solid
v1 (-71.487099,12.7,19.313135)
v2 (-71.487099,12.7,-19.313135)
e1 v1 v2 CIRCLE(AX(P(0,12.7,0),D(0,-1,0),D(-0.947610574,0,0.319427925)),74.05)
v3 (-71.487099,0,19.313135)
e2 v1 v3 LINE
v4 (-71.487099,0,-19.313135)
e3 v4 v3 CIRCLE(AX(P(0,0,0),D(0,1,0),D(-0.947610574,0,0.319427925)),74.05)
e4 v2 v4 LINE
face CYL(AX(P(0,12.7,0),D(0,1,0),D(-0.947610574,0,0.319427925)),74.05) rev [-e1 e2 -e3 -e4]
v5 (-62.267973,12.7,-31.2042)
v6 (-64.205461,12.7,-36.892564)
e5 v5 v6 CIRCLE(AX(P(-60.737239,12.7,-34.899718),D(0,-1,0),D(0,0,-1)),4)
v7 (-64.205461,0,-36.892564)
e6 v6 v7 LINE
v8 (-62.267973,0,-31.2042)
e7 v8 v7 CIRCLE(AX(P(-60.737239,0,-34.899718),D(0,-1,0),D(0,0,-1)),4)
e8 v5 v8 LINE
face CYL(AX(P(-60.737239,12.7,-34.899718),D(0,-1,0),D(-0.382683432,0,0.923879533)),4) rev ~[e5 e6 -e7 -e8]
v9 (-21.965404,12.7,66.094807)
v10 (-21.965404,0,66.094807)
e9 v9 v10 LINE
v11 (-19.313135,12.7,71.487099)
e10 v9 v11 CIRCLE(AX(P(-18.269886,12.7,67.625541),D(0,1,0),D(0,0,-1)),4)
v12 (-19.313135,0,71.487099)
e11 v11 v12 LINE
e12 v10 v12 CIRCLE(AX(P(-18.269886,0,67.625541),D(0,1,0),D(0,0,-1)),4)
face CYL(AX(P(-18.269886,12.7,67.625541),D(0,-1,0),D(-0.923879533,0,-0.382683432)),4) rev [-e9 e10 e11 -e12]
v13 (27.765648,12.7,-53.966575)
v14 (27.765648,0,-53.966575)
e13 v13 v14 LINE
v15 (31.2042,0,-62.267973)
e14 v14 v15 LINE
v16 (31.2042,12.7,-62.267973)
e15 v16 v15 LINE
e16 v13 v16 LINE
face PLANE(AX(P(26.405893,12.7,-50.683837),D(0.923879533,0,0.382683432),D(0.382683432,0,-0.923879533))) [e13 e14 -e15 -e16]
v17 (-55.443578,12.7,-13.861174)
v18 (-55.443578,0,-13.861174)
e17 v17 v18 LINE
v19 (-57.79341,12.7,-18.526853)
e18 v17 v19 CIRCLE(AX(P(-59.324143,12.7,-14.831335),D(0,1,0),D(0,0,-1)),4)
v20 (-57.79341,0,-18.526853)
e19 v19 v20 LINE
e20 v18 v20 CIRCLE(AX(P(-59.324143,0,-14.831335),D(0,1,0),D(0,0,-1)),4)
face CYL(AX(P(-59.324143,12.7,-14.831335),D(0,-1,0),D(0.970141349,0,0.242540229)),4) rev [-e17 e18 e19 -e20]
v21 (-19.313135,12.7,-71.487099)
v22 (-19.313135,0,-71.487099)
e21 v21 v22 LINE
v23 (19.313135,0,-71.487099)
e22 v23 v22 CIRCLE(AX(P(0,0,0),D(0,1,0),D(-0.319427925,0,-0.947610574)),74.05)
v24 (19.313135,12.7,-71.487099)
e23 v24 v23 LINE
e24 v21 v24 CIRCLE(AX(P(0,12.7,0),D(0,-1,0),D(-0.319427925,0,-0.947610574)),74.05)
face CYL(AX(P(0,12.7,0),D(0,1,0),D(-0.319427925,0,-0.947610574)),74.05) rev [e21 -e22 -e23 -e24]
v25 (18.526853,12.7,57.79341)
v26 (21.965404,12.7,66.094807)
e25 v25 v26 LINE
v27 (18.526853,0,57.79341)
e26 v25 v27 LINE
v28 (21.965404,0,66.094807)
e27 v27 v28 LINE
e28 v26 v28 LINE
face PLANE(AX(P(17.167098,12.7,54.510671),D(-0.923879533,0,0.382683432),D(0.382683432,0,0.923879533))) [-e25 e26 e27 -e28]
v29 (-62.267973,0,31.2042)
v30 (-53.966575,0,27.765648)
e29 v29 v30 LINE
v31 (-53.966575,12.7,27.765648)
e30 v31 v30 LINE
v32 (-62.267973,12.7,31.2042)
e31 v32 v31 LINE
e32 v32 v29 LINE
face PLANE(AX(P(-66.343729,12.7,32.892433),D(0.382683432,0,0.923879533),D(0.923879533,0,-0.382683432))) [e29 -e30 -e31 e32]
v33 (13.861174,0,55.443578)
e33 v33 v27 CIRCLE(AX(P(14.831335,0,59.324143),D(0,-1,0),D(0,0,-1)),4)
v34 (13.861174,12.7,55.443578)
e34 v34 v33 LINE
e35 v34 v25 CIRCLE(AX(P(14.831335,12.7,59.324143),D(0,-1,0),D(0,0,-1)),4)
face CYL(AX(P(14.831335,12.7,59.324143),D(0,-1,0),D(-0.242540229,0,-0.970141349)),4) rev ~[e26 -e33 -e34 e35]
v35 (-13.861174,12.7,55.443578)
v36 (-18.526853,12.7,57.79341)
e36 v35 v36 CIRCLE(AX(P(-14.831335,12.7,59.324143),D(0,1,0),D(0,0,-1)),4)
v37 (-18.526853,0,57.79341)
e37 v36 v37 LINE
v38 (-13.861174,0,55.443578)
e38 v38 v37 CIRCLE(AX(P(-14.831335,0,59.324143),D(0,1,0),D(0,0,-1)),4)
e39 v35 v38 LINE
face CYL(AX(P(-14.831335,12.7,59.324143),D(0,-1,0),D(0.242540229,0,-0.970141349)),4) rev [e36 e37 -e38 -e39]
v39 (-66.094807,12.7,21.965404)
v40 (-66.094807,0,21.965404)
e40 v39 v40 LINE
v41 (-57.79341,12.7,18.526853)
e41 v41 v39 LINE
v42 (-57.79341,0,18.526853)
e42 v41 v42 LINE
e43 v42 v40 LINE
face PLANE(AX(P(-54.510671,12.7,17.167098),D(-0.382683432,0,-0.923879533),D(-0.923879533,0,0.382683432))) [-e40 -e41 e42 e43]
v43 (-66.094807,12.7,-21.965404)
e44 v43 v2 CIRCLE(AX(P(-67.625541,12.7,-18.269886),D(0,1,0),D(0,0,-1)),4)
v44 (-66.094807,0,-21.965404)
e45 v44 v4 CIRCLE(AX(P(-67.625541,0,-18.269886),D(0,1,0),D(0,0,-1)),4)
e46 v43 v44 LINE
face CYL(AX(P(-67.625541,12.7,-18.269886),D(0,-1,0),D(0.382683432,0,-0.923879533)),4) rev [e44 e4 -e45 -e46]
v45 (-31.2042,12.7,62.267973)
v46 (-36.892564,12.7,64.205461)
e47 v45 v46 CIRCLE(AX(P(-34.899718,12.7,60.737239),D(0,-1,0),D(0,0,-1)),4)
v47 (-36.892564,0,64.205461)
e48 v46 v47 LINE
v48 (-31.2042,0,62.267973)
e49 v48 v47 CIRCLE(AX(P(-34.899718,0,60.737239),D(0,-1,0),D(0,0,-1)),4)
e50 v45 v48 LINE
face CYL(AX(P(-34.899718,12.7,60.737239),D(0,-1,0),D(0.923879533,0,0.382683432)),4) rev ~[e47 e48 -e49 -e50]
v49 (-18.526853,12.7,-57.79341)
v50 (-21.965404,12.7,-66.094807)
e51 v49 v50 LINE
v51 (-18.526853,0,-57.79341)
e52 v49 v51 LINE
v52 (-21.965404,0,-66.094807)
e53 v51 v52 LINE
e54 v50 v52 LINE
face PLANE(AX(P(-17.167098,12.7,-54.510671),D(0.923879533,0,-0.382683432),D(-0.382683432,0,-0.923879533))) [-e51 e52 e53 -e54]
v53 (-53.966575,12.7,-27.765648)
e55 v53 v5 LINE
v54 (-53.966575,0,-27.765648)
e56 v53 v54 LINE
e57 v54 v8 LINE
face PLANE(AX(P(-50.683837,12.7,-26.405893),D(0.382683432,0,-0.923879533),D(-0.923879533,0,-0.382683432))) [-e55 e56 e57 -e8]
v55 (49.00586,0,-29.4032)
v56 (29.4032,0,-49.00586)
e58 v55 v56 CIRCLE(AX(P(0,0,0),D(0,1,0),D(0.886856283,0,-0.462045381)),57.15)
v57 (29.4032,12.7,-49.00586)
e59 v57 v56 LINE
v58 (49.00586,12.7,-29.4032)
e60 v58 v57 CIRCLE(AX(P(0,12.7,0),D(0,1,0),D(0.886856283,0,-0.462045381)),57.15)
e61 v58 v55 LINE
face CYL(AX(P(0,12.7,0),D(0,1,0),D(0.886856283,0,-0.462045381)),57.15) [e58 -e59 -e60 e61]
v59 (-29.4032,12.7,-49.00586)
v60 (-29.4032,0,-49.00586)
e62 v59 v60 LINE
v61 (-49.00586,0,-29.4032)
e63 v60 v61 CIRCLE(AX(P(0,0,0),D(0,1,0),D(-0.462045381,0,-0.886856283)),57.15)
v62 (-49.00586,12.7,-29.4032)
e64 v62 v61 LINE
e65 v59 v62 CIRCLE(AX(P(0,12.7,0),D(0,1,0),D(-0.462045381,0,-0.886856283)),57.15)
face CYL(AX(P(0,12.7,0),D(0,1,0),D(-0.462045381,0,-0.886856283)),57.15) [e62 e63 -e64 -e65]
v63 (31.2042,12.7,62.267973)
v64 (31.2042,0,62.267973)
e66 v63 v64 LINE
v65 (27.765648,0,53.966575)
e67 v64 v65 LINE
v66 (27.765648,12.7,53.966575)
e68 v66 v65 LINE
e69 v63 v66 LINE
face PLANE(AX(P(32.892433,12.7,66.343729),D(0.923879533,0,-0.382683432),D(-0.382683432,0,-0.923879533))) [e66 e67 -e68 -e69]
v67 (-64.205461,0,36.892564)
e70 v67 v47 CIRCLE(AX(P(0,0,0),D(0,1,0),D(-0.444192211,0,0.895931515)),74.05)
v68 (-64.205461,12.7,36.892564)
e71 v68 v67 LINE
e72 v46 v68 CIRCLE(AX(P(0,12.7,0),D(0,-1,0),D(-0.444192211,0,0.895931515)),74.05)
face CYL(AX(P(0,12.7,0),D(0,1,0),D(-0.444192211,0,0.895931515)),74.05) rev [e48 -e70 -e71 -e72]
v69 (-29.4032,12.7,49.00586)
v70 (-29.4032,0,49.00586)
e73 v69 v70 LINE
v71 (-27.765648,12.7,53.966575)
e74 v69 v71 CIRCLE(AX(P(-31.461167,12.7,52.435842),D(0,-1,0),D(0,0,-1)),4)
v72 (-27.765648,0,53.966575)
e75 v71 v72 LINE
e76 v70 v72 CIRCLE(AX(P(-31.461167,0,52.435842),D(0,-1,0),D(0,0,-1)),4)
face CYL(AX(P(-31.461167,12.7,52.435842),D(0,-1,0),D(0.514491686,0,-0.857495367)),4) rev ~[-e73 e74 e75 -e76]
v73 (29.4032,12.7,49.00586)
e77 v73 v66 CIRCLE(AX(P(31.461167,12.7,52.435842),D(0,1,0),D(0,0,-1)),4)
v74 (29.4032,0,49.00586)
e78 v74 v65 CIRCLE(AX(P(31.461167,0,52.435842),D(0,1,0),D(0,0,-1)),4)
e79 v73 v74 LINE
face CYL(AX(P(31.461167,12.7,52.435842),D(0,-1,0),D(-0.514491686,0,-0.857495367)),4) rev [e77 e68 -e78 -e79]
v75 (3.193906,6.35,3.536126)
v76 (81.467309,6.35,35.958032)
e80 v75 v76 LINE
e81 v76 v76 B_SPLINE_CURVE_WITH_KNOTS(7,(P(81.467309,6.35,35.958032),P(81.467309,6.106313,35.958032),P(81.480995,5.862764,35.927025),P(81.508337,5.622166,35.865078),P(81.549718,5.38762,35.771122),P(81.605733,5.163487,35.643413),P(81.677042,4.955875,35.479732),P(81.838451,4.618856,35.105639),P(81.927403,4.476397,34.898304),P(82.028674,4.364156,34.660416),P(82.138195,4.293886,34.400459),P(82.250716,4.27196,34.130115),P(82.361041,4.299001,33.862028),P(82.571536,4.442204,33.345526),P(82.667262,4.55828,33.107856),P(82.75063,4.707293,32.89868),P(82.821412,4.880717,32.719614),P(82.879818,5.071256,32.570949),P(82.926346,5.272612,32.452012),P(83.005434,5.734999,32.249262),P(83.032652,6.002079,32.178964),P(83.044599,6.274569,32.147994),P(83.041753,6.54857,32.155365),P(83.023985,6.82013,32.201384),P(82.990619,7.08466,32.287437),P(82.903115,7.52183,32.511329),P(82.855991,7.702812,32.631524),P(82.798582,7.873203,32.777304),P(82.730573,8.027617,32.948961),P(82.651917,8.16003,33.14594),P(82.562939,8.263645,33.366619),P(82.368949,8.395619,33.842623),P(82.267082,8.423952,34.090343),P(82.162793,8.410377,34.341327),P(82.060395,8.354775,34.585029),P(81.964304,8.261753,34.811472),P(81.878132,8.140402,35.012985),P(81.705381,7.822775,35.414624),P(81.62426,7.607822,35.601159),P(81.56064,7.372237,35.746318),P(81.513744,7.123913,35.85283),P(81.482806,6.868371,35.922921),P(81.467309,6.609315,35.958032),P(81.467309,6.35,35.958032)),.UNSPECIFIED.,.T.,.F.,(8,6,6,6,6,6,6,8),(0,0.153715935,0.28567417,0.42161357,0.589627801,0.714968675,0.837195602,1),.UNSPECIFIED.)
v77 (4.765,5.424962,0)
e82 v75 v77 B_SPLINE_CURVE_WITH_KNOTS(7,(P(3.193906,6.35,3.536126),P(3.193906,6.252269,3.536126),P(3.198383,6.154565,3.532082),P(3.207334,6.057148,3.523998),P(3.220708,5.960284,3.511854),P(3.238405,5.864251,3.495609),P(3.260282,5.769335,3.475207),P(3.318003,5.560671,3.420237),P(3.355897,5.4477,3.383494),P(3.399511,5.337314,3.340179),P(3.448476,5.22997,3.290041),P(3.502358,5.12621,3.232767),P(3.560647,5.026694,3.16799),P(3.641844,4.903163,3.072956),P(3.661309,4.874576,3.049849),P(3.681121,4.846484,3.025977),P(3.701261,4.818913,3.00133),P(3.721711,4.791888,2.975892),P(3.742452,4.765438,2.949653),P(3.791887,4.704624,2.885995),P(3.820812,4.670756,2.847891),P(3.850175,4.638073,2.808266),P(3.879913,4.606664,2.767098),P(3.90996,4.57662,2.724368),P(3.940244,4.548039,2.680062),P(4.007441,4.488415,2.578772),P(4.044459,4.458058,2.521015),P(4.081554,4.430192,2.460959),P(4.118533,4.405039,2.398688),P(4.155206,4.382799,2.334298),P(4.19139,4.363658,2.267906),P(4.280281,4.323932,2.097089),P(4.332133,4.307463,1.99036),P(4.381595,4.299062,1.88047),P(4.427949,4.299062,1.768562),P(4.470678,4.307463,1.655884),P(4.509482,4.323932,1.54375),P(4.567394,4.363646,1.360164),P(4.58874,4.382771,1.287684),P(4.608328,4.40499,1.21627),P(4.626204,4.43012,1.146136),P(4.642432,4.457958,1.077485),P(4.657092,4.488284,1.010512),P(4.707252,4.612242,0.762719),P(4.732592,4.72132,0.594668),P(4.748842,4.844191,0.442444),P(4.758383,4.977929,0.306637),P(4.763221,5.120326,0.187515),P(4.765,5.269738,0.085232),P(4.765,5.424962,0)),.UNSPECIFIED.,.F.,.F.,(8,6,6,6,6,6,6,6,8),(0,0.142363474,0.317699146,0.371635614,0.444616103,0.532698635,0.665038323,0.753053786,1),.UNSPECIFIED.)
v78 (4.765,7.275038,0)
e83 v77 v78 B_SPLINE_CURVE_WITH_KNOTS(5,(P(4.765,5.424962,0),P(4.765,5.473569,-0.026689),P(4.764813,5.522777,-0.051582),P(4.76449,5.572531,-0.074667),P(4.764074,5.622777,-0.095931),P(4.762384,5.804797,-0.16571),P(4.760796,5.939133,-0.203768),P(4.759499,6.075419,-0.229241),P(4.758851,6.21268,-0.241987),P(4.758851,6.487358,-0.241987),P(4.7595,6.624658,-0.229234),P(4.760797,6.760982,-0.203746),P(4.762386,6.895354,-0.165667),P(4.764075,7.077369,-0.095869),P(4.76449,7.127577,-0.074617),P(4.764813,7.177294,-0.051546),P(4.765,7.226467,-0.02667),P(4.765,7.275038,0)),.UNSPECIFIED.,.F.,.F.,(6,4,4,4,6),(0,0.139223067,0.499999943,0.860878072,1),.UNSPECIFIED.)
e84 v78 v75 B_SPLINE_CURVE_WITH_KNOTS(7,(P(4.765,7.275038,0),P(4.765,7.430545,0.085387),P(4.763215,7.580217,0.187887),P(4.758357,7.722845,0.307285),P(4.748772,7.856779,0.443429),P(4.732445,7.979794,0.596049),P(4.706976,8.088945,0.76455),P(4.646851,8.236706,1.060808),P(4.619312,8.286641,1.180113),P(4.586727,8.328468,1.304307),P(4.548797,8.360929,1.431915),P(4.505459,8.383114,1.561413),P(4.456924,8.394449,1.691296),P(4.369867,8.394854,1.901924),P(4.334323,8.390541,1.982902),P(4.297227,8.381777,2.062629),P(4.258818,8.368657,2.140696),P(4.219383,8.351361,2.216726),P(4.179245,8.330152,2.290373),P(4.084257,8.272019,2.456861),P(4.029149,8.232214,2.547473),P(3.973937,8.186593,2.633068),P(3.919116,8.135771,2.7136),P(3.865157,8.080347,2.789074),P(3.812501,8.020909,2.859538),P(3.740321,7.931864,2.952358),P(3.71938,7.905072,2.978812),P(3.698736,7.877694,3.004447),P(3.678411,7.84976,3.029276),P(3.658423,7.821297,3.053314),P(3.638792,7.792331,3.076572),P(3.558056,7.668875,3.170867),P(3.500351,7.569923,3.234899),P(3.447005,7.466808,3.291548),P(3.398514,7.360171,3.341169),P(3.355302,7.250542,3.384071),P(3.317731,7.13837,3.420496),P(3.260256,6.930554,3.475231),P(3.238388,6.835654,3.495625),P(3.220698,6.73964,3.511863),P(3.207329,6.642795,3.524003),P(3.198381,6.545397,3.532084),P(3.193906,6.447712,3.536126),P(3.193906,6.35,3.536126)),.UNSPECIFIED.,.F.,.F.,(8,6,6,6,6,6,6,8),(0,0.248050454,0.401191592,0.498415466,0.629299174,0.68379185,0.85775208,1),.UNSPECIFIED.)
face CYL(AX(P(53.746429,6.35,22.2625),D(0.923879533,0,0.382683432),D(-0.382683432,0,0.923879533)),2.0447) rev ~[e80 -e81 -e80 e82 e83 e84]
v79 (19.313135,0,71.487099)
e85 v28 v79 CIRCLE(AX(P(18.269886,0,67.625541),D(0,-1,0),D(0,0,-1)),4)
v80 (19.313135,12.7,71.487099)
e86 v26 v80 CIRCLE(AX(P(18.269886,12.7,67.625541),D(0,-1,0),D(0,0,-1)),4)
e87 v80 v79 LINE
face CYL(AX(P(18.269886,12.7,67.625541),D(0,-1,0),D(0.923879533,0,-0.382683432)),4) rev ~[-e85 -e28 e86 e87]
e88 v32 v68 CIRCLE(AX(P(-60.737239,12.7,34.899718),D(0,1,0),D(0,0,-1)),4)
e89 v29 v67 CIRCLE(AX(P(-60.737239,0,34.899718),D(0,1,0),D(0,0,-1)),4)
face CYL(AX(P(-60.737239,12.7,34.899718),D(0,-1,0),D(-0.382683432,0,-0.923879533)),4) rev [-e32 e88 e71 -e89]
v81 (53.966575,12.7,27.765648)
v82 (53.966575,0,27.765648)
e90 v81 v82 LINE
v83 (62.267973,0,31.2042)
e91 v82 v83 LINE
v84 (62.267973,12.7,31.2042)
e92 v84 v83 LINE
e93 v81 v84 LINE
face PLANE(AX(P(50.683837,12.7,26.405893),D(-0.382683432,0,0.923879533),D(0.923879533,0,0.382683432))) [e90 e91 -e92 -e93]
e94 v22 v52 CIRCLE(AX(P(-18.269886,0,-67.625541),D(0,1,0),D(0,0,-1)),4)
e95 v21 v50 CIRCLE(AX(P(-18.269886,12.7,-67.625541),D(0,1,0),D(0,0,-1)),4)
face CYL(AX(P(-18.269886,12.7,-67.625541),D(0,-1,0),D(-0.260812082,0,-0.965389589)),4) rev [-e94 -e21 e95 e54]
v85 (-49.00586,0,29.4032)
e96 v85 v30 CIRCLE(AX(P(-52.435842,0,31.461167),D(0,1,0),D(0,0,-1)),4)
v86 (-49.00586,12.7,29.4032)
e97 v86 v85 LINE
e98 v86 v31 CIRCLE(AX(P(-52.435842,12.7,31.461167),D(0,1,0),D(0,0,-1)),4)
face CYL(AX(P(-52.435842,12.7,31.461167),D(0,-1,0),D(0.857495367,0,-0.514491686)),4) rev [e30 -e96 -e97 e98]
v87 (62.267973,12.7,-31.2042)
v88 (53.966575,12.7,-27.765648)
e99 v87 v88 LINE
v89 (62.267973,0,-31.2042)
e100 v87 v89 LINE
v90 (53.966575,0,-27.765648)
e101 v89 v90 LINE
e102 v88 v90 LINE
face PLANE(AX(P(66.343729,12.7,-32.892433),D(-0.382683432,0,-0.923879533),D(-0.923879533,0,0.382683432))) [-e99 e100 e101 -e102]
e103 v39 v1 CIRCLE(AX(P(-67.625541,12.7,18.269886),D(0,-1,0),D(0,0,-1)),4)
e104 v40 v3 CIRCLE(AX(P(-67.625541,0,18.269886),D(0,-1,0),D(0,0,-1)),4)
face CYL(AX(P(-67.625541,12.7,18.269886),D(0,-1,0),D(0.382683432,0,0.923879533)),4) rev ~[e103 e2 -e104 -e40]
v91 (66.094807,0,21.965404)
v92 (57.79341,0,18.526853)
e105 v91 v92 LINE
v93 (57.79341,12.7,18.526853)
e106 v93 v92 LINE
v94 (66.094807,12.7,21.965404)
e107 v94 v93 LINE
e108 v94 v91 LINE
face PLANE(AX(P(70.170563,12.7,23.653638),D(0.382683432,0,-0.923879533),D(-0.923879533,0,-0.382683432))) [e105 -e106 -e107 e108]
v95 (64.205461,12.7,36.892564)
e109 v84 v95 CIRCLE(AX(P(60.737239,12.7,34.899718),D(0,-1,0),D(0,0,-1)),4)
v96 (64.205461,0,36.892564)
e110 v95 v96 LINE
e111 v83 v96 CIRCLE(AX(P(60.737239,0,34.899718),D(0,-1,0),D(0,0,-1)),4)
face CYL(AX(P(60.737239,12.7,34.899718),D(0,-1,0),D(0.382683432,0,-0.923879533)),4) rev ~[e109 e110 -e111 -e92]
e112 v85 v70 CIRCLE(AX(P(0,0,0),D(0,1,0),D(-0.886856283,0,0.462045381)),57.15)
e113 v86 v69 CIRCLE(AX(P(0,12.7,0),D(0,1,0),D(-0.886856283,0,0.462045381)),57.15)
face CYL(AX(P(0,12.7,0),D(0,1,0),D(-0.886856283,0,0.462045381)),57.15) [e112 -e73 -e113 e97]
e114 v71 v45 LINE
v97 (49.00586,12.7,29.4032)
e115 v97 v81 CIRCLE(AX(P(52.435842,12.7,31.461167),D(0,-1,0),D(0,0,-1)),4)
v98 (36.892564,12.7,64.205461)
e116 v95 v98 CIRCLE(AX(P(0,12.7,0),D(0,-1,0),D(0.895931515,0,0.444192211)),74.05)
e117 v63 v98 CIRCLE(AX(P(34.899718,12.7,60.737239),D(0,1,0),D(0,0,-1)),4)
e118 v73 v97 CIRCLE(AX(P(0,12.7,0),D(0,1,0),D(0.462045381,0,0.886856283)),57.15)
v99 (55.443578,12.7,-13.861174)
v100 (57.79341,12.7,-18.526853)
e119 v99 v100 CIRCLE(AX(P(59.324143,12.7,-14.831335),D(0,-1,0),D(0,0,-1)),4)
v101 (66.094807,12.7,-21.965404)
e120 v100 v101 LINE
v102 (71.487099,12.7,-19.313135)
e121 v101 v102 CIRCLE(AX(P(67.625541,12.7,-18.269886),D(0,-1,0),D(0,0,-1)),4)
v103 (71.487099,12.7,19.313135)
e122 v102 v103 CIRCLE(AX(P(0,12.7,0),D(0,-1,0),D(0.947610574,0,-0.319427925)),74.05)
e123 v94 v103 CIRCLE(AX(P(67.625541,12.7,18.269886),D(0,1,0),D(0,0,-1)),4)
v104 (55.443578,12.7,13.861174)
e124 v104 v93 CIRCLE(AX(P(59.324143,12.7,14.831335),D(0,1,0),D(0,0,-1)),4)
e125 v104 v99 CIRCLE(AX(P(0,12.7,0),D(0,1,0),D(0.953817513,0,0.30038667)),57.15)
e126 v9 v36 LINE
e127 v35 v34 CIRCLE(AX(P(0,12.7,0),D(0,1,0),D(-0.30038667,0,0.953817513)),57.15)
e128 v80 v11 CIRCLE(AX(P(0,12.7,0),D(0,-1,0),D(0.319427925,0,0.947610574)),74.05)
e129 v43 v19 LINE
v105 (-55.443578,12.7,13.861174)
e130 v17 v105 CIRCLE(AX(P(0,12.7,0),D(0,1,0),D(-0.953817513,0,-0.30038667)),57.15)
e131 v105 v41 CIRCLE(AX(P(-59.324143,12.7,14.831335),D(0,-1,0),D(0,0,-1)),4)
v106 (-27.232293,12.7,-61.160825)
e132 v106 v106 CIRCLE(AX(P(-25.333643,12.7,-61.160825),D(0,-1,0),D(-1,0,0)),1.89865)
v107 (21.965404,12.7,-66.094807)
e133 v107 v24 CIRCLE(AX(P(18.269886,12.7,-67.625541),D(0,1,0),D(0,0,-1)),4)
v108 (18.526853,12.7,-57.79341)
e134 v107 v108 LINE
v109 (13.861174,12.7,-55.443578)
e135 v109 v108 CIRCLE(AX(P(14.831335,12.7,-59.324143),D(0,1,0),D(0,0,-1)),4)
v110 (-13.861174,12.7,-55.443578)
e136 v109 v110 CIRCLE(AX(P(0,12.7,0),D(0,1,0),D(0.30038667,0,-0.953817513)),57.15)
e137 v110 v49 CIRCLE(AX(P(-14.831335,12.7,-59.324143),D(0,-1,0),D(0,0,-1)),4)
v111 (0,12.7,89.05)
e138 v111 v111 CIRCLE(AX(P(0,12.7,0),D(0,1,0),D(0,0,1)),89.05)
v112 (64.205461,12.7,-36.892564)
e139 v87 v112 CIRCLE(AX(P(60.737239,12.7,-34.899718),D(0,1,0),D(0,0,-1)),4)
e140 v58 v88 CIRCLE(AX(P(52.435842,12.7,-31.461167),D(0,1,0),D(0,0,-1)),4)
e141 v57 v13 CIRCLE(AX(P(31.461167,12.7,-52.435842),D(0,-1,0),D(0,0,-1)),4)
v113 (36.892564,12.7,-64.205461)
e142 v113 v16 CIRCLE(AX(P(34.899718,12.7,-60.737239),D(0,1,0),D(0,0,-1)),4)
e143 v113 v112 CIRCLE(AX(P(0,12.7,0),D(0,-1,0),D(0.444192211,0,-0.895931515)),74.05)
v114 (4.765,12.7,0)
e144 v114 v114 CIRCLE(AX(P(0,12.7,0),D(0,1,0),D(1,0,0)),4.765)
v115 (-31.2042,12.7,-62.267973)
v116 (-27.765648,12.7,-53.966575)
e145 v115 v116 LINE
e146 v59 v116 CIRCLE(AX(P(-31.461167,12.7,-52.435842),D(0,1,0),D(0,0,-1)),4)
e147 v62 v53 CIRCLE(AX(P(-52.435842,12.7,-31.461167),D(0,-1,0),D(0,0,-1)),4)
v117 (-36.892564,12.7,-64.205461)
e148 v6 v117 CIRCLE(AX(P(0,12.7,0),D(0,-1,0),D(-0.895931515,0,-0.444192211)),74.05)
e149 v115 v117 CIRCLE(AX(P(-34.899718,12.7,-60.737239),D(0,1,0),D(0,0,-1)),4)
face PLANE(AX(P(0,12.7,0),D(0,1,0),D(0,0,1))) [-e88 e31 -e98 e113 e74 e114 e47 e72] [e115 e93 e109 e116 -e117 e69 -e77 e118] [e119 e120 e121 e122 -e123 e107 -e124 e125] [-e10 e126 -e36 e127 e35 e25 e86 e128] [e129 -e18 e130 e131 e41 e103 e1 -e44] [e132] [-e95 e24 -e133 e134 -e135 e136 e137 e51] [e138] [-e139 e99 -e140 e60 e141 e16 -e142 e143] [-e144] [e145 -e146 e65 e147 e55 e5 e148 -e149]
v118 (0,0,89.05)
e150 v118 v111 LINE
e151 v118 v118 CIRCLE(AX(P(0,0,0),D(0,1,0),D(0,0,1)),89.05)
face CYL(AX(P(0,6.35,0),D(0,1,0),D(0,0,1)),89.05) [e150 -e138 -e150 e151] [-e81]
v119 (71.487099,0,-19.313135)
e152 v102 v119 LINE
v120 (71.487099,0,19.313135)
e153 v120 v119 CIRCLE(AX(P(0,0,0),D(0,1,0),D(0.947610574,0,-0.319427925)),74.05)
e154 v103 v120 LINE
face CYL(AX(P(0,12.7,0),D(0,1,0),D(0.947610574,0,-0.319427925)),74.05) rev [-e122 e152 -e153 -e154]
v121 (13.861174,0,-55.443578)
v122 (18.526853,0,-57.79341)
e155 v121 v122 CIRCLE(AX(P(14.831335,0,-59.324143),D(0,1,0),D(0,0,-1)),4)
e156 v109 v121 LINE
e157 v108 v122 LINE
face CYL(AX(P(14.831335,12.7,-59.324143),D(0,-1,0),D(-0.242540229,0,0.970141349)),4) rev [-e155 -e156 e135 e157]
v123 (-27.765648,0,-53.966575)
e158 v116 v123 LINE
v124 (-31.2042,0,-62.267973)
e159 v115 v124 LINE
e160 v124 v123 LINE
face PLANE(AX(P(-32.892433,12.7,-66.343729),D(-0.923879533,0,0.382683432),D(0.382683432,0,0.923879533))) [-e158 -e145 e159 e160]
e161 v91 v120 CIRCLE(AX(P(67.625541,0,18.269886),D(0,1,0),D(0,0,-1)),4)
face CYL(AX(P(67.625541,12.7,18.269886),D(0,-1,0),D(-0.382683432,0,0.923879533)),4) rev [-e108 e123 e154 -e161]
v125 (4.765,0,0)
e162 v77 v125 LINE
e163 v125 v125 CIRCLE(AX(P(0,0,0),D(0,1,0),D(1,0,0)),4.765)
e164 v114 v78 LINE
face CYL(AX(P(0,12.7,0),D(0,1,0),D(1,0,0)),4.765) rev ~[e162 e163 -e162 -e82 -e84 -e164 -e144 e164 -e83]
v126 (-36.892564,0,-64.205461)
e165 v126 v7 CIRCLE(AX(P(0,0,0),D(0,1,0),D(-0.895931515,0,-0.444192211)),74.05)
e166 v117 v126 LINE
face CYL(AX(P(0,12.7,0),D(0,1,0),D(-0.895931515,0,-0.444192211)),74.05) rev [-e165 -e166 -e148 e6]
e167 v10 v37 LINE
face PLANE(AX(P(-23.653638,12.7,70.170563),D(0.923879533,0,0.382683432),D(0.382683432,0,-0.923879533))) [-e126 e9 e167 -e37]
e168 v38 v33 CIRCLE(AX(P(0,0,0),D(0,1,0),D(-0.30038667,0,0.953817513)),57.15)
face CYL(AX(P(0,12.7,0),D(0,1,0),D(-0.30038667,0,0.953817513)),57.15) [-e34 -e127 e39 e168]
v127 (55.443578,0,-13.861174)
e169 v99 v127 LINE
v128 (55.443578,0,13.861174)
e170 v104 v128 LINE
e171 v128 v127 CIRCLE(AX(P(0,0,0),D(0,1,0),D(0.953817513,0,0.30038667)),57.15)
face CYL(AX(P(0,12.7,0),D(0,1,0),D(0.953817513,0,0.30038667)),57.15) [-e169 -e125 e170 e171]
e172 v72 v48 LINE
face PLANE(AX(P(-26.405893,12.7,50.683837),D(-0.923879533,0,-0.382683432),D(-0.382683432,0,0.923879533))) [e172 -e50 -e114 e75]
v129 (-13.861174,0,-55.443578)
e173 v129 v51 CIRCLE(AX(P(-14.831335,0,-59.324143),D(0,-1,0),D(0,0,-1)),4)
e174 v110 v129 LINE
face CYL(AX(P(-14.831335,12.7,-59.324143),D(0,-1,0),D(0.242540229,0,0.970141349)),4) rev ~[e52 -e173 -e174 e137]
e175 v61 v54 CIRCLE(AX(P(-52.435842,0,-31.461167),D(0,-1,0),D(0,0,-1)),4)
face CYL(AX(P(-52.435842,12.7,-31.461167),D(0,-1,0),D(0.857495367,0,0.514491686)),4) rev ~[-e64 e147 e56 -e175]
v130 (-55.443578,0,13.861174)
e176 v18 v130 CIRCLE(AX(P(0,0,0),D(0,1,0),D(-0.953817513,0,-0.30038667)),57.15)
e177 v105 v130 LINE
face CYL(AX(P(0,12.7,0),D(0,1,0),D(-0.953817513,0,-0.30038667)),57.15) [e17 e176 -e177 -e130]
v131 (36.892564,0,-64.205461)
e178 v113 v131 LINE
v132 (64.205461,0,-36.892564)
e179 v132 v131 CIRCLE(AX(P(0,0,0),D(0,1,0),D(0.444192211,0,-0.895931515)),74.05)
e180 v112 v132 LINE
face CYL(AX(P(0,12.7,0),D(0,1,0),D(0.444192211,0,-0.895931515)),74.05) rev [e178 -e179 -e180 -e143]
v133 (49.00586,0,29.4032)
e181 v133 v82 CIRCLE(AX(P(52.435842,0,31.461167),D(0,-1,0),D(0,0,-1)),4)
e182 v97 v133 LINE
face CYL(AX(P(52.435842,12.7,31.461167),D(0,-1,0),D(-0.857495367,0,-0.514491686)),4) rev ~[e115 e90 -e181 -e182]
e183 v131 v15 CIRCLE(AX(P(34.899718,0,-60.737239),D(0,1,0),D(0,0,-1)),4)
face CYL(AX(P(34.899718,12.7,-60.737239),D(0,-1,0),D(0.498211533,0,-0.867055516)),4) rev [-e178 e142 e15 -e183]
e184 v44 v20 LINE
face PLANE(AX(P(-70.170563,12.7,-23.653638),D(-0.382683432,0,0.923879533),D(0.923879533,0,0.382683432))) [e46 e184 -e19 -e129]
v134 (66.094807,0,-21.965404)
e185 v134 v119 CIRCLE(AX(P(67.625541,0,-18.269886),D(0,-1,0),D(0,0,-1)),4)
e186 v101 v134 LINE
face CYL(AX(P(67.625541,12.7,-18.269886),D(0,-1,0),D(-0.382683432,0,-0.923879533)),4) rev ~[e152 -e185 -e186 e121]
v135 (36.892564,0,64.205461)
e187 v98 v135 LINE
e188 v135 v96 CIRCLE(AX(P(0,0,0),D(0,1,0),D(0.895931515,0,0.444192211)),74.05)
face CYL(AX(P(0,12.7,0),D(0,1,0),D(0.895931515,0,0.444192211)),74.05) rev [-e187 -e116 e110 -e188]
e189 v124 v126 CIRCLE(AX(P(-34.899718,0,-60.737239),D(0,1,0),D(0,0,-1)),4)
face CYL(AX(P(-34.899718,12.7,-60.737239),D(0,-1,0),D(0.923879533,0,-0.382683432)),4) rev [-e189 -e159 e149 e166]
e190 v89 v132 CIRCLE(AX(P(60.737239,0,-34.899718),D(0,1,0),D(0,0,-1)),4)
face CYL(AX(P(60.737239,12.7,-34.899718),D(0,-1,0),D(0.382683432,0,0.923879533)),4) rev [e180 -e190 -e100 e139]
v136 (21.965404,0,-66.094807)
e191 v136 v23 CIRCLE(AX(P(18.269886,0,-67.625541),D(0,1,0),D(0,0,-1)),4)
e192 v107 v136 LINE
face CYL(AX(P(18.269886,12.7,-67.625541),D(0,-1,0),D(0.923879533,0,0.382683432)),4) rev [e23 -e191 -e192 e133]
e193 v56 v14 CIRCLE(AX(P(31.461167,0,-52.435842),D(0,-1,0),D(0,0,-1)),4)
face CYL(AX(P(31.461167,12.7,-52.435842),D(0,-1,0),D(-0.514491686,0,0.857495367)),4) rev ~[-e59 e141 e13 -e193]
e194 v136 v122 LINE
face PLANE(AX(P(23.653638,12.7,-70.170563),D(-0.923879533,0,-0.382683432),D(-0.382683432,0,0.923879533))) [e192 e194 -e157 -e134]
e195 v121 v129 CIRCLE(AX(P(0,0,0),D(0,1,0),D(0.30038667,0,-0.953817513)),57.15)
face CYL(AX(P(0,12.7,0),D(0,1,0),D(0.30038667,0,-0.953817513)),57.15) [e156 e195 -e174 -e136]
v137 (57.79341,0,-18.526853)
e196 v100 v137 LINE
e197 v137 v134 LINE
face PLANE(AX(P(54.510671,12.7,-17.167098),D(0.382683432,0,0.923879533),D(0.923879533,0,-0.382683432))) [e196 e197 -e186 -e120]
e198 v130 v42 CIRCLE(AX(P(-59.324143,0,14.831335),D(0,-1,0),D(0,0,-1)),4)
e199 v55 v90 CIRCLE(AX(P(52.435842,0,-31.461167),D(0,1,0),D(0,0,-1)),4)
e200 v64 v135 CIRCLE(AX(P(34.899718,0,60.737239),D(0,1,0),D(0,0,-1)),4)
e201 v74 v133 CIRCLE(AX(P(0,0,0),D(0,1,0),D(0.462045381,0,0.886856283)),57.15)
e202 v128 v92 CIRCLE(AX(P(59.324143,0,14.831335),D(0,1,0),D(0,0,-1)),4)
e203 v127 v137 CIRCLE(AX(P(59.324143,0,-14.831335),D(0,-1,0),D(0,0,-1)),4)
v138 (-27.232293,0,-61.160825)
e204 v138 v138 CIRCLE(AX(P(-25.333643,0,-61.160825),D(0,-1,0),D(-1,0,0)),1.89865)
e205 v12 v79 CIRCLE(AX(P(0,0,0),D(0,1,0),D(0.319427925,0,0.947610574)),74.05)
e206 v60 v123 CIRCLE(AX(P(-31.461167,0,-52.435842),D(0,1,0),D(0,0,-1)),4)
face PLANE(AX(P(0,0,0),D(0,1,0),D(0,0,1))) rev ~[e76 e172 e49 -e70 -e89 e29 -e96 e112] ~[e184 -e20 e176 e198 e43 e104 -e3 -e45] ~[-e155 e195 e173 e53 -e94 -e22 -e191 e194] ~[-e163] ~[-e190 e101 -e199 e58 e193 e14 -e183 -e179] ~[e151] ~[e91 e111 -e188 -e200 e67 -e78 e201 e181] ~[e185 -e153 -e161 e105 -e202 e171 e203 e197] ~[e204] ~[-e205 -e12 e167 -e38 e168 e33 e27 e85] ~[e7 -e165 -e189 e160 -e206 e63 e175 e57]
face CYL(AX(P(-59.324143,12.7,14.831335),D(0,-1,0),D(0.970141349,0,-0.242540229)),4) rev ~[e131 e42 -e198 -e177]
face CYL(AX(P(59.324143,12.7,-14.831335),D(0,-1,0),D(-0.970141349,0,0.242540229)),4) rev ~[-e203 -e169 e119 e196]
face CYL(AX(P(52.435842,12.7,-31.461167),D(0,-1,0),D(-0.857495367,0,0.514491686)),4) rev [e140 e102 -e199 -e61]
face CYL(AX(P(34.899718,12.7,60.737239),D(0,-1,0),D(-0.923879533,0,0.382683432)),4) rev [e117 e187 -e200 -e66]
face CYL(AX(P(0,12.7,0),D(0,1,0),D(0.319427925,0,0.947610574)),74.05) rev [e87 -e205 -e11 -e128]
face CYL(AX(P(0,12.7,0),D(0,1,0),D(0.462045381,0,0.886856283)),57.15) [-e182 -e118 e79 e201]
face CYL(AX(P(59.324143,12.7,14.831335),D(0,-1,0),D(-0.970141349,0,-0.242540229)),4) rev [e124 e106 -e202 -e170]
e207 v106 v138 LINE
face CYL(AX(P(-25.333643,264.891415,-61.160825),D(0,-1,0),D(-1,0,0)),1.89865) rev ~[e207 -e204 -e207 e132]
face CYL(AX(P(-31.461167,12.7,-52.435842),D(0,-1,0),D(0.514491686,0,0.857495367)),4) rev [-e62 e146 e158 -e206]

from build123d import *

# Parameters (mm, degrees)
SKETCH2_W                = 89.05
SKETCH2_H                = 12.7
F_10_24_TAPPED_HOLE2_D   = 3.7973
CUT_EXTRUDE1_DEPTH       = 13.7
FILLET1_R                = 4
CIRPATTERN4_COUNT        = 8
FILLET1_OF_CIRPATTERN4_R = 4
SKETCH15_W               = 2.0447
SKETCH15_H               = 116.349432022
SKETCH22_R               = 4.765
CUT_EXTRUDE4_DEPTH       = 12.8


with BuildPart() as part:
    # Sketch2 → Revolve1 (revolve)
    with BuildSketch(Plane(origin=(0, 0, 0), x_dir=(0, 0, -1), z_dir=(1, 0, 0))):
        with Locations((-44.525, 6.35)):
            Rectangle(SKETCH2_W, SKETCH2_H)
    revolve(axis=Axis((0, -0.888756804, 0), (0, 1, 0)))

    # #10-24 Tapped Hole2 (through all)
    with Locations(Plane(origin=(0, 12.7, 0), x_dir=(1, 0, 0), z_dir=(0, 1, 0))):
        with Locations((-25.333643223, 61.160825052)):
            Hole(F_10_24_TAPPED_HOLE2_D / 2)

    # Sketch8 → Cut-Extrude1 (cut, through all)
    with BuildSketch(Plane(origin=(0, 12.7, 0), x_dir=(1, 0, 0), z_dir=(0, 1, 0))):
        with BuildLine():
            Line((-17.167098173, 54.510670885), (-23.653637882, 70.170563023))
            ThreePointArc((-23.653637882, 70.170563023), (0, 74.05), (23.653637882, 70.170563023))
            Line((23.653637882, 70.170563023), (17.167098173, 54.510670885))
            ThreePointArc((17.167098173, 54.510670885), (0, 57.15), (-17.167098173, 54.510670885))
        make_face()
    cut_extrude1 = extrude(amount=-CUT_EXTRUDE1_DEPTH, mode=Mode.SUBTRACT)

    # Fillet1
    fillet1_edges = [part.edges().sort_by_distance(p)[0] for p in [
        (17.167098173, 6.35, -54.510670885),
        (-17.167098173, 6.35, -54.510670885),
        (-23.653637882, 6.35, -70.170563023),
        (23.653637882, 6.35, -70.170563023),
    ]]
    fillet(fillet1_edges, radius=FILLET1_R)

    # CirPattern4: Cut-Extrude1 ×8 about axis
    cirpattern4_axis = Axis((0, 0, 0), (0, 1, 0))
    for i in range(1, CIRPATTERN4_COUNT):
        add(cut_extrude1.rotate(cirpattern4_axis, i * 360 / CIRPATTERN4_COUNT), mode=Mode.SUBTRACT)

    # Fillet1 of CirPattern4
    fillet1_of_cirpattern4_edges = [part.edges().sort_by_distance(p)[0] for p in [
        (-26.405893498, 6.35, -50.683836561),
        (-50.683836561, 6.35, -26.405893498),
        (-66.343728699, 6.35, -32.892433207),
        (-32.892433207, 6.35, -66.343728699),
        (-54.510670885, 6.35, -17.167098173),
        (-54.510670885, 6.35, 17.167098173),
        (-70.170563023, 6.35, 23.653637882),
        (-70.170563023, 6.35, -23.653637882),
        (-50.683836561, 6.35, 26.405893498),
        (-26.405893498, 6.35, 50.683836561),
        (-32.892433207, 6.35, 66.343728699),
        (-66.343728699, 6.35, 32.892433207),
        (-17.167098173, 6.35, 54.510670885),
        (17.167098173, 6.35, 54.510670885),
        (23.653637882, 6.35, 70.170563023),
        (-23.653637882, 6.35, 70.170563023),
        (26.405893498, 6.35, 50.683836561),
        (50.683836561, 6.35, 26.405893498),
        (66.343728699, 6.35, 32.892433207),
        (32.892433207, 6.35, 66.343728699),
        (54.510670885, 6.35, 17.167098173),
        (54.510670885, 6.35, -17.167098173),
        (70.170563023, 6.35, -23.653637882),
        (70.170563023, 6.35, 23.653637882),
        (50.683836561, 6.35, -26.405893498),
        (26.405893498, 6.35, -50.683836561),
        (32.892433207, 6.35, -66.343728699),
        (66.343728699, 6.35, -32.892433207),
    ]]
    fillet(fillet1_of_cirpattern4_edges, radius=FILLET1_OF_CIRPATTERN4_R)

    # Sketch15 → #20 (0.161) Diameter Hole1 (revolve, cut)
    with BuildSketch(Plane(origin=(0, 6.35, 0), x_dir=(-0.382683432, 0, 0.923879533), z_dir=(0, 1, 0))):
        with Locations((1.02235, 58.174716011)):
            Rectangle(SKETCH15_W, SKETCH15_H)
    revolve(axis=Axis((-5.866635031, 6.35, -2.430039796), (0.923879533, 0, 0.382683432)), mode=Mode.SUBTRACT)

    # Sketch22 → Cut-Extrude4 (cut)
    with BuildSketch(Plane(origin=(0, 12.7, 0), x_dir=(1, 0, 0), z_dir=(0, 1, 0))):
        Circle(SKETCH22_R)
    extrude(amount=-CUT_EXTRUDE4_DEPTH, mode=Mode.SUBTRACT)


solid = part.part
